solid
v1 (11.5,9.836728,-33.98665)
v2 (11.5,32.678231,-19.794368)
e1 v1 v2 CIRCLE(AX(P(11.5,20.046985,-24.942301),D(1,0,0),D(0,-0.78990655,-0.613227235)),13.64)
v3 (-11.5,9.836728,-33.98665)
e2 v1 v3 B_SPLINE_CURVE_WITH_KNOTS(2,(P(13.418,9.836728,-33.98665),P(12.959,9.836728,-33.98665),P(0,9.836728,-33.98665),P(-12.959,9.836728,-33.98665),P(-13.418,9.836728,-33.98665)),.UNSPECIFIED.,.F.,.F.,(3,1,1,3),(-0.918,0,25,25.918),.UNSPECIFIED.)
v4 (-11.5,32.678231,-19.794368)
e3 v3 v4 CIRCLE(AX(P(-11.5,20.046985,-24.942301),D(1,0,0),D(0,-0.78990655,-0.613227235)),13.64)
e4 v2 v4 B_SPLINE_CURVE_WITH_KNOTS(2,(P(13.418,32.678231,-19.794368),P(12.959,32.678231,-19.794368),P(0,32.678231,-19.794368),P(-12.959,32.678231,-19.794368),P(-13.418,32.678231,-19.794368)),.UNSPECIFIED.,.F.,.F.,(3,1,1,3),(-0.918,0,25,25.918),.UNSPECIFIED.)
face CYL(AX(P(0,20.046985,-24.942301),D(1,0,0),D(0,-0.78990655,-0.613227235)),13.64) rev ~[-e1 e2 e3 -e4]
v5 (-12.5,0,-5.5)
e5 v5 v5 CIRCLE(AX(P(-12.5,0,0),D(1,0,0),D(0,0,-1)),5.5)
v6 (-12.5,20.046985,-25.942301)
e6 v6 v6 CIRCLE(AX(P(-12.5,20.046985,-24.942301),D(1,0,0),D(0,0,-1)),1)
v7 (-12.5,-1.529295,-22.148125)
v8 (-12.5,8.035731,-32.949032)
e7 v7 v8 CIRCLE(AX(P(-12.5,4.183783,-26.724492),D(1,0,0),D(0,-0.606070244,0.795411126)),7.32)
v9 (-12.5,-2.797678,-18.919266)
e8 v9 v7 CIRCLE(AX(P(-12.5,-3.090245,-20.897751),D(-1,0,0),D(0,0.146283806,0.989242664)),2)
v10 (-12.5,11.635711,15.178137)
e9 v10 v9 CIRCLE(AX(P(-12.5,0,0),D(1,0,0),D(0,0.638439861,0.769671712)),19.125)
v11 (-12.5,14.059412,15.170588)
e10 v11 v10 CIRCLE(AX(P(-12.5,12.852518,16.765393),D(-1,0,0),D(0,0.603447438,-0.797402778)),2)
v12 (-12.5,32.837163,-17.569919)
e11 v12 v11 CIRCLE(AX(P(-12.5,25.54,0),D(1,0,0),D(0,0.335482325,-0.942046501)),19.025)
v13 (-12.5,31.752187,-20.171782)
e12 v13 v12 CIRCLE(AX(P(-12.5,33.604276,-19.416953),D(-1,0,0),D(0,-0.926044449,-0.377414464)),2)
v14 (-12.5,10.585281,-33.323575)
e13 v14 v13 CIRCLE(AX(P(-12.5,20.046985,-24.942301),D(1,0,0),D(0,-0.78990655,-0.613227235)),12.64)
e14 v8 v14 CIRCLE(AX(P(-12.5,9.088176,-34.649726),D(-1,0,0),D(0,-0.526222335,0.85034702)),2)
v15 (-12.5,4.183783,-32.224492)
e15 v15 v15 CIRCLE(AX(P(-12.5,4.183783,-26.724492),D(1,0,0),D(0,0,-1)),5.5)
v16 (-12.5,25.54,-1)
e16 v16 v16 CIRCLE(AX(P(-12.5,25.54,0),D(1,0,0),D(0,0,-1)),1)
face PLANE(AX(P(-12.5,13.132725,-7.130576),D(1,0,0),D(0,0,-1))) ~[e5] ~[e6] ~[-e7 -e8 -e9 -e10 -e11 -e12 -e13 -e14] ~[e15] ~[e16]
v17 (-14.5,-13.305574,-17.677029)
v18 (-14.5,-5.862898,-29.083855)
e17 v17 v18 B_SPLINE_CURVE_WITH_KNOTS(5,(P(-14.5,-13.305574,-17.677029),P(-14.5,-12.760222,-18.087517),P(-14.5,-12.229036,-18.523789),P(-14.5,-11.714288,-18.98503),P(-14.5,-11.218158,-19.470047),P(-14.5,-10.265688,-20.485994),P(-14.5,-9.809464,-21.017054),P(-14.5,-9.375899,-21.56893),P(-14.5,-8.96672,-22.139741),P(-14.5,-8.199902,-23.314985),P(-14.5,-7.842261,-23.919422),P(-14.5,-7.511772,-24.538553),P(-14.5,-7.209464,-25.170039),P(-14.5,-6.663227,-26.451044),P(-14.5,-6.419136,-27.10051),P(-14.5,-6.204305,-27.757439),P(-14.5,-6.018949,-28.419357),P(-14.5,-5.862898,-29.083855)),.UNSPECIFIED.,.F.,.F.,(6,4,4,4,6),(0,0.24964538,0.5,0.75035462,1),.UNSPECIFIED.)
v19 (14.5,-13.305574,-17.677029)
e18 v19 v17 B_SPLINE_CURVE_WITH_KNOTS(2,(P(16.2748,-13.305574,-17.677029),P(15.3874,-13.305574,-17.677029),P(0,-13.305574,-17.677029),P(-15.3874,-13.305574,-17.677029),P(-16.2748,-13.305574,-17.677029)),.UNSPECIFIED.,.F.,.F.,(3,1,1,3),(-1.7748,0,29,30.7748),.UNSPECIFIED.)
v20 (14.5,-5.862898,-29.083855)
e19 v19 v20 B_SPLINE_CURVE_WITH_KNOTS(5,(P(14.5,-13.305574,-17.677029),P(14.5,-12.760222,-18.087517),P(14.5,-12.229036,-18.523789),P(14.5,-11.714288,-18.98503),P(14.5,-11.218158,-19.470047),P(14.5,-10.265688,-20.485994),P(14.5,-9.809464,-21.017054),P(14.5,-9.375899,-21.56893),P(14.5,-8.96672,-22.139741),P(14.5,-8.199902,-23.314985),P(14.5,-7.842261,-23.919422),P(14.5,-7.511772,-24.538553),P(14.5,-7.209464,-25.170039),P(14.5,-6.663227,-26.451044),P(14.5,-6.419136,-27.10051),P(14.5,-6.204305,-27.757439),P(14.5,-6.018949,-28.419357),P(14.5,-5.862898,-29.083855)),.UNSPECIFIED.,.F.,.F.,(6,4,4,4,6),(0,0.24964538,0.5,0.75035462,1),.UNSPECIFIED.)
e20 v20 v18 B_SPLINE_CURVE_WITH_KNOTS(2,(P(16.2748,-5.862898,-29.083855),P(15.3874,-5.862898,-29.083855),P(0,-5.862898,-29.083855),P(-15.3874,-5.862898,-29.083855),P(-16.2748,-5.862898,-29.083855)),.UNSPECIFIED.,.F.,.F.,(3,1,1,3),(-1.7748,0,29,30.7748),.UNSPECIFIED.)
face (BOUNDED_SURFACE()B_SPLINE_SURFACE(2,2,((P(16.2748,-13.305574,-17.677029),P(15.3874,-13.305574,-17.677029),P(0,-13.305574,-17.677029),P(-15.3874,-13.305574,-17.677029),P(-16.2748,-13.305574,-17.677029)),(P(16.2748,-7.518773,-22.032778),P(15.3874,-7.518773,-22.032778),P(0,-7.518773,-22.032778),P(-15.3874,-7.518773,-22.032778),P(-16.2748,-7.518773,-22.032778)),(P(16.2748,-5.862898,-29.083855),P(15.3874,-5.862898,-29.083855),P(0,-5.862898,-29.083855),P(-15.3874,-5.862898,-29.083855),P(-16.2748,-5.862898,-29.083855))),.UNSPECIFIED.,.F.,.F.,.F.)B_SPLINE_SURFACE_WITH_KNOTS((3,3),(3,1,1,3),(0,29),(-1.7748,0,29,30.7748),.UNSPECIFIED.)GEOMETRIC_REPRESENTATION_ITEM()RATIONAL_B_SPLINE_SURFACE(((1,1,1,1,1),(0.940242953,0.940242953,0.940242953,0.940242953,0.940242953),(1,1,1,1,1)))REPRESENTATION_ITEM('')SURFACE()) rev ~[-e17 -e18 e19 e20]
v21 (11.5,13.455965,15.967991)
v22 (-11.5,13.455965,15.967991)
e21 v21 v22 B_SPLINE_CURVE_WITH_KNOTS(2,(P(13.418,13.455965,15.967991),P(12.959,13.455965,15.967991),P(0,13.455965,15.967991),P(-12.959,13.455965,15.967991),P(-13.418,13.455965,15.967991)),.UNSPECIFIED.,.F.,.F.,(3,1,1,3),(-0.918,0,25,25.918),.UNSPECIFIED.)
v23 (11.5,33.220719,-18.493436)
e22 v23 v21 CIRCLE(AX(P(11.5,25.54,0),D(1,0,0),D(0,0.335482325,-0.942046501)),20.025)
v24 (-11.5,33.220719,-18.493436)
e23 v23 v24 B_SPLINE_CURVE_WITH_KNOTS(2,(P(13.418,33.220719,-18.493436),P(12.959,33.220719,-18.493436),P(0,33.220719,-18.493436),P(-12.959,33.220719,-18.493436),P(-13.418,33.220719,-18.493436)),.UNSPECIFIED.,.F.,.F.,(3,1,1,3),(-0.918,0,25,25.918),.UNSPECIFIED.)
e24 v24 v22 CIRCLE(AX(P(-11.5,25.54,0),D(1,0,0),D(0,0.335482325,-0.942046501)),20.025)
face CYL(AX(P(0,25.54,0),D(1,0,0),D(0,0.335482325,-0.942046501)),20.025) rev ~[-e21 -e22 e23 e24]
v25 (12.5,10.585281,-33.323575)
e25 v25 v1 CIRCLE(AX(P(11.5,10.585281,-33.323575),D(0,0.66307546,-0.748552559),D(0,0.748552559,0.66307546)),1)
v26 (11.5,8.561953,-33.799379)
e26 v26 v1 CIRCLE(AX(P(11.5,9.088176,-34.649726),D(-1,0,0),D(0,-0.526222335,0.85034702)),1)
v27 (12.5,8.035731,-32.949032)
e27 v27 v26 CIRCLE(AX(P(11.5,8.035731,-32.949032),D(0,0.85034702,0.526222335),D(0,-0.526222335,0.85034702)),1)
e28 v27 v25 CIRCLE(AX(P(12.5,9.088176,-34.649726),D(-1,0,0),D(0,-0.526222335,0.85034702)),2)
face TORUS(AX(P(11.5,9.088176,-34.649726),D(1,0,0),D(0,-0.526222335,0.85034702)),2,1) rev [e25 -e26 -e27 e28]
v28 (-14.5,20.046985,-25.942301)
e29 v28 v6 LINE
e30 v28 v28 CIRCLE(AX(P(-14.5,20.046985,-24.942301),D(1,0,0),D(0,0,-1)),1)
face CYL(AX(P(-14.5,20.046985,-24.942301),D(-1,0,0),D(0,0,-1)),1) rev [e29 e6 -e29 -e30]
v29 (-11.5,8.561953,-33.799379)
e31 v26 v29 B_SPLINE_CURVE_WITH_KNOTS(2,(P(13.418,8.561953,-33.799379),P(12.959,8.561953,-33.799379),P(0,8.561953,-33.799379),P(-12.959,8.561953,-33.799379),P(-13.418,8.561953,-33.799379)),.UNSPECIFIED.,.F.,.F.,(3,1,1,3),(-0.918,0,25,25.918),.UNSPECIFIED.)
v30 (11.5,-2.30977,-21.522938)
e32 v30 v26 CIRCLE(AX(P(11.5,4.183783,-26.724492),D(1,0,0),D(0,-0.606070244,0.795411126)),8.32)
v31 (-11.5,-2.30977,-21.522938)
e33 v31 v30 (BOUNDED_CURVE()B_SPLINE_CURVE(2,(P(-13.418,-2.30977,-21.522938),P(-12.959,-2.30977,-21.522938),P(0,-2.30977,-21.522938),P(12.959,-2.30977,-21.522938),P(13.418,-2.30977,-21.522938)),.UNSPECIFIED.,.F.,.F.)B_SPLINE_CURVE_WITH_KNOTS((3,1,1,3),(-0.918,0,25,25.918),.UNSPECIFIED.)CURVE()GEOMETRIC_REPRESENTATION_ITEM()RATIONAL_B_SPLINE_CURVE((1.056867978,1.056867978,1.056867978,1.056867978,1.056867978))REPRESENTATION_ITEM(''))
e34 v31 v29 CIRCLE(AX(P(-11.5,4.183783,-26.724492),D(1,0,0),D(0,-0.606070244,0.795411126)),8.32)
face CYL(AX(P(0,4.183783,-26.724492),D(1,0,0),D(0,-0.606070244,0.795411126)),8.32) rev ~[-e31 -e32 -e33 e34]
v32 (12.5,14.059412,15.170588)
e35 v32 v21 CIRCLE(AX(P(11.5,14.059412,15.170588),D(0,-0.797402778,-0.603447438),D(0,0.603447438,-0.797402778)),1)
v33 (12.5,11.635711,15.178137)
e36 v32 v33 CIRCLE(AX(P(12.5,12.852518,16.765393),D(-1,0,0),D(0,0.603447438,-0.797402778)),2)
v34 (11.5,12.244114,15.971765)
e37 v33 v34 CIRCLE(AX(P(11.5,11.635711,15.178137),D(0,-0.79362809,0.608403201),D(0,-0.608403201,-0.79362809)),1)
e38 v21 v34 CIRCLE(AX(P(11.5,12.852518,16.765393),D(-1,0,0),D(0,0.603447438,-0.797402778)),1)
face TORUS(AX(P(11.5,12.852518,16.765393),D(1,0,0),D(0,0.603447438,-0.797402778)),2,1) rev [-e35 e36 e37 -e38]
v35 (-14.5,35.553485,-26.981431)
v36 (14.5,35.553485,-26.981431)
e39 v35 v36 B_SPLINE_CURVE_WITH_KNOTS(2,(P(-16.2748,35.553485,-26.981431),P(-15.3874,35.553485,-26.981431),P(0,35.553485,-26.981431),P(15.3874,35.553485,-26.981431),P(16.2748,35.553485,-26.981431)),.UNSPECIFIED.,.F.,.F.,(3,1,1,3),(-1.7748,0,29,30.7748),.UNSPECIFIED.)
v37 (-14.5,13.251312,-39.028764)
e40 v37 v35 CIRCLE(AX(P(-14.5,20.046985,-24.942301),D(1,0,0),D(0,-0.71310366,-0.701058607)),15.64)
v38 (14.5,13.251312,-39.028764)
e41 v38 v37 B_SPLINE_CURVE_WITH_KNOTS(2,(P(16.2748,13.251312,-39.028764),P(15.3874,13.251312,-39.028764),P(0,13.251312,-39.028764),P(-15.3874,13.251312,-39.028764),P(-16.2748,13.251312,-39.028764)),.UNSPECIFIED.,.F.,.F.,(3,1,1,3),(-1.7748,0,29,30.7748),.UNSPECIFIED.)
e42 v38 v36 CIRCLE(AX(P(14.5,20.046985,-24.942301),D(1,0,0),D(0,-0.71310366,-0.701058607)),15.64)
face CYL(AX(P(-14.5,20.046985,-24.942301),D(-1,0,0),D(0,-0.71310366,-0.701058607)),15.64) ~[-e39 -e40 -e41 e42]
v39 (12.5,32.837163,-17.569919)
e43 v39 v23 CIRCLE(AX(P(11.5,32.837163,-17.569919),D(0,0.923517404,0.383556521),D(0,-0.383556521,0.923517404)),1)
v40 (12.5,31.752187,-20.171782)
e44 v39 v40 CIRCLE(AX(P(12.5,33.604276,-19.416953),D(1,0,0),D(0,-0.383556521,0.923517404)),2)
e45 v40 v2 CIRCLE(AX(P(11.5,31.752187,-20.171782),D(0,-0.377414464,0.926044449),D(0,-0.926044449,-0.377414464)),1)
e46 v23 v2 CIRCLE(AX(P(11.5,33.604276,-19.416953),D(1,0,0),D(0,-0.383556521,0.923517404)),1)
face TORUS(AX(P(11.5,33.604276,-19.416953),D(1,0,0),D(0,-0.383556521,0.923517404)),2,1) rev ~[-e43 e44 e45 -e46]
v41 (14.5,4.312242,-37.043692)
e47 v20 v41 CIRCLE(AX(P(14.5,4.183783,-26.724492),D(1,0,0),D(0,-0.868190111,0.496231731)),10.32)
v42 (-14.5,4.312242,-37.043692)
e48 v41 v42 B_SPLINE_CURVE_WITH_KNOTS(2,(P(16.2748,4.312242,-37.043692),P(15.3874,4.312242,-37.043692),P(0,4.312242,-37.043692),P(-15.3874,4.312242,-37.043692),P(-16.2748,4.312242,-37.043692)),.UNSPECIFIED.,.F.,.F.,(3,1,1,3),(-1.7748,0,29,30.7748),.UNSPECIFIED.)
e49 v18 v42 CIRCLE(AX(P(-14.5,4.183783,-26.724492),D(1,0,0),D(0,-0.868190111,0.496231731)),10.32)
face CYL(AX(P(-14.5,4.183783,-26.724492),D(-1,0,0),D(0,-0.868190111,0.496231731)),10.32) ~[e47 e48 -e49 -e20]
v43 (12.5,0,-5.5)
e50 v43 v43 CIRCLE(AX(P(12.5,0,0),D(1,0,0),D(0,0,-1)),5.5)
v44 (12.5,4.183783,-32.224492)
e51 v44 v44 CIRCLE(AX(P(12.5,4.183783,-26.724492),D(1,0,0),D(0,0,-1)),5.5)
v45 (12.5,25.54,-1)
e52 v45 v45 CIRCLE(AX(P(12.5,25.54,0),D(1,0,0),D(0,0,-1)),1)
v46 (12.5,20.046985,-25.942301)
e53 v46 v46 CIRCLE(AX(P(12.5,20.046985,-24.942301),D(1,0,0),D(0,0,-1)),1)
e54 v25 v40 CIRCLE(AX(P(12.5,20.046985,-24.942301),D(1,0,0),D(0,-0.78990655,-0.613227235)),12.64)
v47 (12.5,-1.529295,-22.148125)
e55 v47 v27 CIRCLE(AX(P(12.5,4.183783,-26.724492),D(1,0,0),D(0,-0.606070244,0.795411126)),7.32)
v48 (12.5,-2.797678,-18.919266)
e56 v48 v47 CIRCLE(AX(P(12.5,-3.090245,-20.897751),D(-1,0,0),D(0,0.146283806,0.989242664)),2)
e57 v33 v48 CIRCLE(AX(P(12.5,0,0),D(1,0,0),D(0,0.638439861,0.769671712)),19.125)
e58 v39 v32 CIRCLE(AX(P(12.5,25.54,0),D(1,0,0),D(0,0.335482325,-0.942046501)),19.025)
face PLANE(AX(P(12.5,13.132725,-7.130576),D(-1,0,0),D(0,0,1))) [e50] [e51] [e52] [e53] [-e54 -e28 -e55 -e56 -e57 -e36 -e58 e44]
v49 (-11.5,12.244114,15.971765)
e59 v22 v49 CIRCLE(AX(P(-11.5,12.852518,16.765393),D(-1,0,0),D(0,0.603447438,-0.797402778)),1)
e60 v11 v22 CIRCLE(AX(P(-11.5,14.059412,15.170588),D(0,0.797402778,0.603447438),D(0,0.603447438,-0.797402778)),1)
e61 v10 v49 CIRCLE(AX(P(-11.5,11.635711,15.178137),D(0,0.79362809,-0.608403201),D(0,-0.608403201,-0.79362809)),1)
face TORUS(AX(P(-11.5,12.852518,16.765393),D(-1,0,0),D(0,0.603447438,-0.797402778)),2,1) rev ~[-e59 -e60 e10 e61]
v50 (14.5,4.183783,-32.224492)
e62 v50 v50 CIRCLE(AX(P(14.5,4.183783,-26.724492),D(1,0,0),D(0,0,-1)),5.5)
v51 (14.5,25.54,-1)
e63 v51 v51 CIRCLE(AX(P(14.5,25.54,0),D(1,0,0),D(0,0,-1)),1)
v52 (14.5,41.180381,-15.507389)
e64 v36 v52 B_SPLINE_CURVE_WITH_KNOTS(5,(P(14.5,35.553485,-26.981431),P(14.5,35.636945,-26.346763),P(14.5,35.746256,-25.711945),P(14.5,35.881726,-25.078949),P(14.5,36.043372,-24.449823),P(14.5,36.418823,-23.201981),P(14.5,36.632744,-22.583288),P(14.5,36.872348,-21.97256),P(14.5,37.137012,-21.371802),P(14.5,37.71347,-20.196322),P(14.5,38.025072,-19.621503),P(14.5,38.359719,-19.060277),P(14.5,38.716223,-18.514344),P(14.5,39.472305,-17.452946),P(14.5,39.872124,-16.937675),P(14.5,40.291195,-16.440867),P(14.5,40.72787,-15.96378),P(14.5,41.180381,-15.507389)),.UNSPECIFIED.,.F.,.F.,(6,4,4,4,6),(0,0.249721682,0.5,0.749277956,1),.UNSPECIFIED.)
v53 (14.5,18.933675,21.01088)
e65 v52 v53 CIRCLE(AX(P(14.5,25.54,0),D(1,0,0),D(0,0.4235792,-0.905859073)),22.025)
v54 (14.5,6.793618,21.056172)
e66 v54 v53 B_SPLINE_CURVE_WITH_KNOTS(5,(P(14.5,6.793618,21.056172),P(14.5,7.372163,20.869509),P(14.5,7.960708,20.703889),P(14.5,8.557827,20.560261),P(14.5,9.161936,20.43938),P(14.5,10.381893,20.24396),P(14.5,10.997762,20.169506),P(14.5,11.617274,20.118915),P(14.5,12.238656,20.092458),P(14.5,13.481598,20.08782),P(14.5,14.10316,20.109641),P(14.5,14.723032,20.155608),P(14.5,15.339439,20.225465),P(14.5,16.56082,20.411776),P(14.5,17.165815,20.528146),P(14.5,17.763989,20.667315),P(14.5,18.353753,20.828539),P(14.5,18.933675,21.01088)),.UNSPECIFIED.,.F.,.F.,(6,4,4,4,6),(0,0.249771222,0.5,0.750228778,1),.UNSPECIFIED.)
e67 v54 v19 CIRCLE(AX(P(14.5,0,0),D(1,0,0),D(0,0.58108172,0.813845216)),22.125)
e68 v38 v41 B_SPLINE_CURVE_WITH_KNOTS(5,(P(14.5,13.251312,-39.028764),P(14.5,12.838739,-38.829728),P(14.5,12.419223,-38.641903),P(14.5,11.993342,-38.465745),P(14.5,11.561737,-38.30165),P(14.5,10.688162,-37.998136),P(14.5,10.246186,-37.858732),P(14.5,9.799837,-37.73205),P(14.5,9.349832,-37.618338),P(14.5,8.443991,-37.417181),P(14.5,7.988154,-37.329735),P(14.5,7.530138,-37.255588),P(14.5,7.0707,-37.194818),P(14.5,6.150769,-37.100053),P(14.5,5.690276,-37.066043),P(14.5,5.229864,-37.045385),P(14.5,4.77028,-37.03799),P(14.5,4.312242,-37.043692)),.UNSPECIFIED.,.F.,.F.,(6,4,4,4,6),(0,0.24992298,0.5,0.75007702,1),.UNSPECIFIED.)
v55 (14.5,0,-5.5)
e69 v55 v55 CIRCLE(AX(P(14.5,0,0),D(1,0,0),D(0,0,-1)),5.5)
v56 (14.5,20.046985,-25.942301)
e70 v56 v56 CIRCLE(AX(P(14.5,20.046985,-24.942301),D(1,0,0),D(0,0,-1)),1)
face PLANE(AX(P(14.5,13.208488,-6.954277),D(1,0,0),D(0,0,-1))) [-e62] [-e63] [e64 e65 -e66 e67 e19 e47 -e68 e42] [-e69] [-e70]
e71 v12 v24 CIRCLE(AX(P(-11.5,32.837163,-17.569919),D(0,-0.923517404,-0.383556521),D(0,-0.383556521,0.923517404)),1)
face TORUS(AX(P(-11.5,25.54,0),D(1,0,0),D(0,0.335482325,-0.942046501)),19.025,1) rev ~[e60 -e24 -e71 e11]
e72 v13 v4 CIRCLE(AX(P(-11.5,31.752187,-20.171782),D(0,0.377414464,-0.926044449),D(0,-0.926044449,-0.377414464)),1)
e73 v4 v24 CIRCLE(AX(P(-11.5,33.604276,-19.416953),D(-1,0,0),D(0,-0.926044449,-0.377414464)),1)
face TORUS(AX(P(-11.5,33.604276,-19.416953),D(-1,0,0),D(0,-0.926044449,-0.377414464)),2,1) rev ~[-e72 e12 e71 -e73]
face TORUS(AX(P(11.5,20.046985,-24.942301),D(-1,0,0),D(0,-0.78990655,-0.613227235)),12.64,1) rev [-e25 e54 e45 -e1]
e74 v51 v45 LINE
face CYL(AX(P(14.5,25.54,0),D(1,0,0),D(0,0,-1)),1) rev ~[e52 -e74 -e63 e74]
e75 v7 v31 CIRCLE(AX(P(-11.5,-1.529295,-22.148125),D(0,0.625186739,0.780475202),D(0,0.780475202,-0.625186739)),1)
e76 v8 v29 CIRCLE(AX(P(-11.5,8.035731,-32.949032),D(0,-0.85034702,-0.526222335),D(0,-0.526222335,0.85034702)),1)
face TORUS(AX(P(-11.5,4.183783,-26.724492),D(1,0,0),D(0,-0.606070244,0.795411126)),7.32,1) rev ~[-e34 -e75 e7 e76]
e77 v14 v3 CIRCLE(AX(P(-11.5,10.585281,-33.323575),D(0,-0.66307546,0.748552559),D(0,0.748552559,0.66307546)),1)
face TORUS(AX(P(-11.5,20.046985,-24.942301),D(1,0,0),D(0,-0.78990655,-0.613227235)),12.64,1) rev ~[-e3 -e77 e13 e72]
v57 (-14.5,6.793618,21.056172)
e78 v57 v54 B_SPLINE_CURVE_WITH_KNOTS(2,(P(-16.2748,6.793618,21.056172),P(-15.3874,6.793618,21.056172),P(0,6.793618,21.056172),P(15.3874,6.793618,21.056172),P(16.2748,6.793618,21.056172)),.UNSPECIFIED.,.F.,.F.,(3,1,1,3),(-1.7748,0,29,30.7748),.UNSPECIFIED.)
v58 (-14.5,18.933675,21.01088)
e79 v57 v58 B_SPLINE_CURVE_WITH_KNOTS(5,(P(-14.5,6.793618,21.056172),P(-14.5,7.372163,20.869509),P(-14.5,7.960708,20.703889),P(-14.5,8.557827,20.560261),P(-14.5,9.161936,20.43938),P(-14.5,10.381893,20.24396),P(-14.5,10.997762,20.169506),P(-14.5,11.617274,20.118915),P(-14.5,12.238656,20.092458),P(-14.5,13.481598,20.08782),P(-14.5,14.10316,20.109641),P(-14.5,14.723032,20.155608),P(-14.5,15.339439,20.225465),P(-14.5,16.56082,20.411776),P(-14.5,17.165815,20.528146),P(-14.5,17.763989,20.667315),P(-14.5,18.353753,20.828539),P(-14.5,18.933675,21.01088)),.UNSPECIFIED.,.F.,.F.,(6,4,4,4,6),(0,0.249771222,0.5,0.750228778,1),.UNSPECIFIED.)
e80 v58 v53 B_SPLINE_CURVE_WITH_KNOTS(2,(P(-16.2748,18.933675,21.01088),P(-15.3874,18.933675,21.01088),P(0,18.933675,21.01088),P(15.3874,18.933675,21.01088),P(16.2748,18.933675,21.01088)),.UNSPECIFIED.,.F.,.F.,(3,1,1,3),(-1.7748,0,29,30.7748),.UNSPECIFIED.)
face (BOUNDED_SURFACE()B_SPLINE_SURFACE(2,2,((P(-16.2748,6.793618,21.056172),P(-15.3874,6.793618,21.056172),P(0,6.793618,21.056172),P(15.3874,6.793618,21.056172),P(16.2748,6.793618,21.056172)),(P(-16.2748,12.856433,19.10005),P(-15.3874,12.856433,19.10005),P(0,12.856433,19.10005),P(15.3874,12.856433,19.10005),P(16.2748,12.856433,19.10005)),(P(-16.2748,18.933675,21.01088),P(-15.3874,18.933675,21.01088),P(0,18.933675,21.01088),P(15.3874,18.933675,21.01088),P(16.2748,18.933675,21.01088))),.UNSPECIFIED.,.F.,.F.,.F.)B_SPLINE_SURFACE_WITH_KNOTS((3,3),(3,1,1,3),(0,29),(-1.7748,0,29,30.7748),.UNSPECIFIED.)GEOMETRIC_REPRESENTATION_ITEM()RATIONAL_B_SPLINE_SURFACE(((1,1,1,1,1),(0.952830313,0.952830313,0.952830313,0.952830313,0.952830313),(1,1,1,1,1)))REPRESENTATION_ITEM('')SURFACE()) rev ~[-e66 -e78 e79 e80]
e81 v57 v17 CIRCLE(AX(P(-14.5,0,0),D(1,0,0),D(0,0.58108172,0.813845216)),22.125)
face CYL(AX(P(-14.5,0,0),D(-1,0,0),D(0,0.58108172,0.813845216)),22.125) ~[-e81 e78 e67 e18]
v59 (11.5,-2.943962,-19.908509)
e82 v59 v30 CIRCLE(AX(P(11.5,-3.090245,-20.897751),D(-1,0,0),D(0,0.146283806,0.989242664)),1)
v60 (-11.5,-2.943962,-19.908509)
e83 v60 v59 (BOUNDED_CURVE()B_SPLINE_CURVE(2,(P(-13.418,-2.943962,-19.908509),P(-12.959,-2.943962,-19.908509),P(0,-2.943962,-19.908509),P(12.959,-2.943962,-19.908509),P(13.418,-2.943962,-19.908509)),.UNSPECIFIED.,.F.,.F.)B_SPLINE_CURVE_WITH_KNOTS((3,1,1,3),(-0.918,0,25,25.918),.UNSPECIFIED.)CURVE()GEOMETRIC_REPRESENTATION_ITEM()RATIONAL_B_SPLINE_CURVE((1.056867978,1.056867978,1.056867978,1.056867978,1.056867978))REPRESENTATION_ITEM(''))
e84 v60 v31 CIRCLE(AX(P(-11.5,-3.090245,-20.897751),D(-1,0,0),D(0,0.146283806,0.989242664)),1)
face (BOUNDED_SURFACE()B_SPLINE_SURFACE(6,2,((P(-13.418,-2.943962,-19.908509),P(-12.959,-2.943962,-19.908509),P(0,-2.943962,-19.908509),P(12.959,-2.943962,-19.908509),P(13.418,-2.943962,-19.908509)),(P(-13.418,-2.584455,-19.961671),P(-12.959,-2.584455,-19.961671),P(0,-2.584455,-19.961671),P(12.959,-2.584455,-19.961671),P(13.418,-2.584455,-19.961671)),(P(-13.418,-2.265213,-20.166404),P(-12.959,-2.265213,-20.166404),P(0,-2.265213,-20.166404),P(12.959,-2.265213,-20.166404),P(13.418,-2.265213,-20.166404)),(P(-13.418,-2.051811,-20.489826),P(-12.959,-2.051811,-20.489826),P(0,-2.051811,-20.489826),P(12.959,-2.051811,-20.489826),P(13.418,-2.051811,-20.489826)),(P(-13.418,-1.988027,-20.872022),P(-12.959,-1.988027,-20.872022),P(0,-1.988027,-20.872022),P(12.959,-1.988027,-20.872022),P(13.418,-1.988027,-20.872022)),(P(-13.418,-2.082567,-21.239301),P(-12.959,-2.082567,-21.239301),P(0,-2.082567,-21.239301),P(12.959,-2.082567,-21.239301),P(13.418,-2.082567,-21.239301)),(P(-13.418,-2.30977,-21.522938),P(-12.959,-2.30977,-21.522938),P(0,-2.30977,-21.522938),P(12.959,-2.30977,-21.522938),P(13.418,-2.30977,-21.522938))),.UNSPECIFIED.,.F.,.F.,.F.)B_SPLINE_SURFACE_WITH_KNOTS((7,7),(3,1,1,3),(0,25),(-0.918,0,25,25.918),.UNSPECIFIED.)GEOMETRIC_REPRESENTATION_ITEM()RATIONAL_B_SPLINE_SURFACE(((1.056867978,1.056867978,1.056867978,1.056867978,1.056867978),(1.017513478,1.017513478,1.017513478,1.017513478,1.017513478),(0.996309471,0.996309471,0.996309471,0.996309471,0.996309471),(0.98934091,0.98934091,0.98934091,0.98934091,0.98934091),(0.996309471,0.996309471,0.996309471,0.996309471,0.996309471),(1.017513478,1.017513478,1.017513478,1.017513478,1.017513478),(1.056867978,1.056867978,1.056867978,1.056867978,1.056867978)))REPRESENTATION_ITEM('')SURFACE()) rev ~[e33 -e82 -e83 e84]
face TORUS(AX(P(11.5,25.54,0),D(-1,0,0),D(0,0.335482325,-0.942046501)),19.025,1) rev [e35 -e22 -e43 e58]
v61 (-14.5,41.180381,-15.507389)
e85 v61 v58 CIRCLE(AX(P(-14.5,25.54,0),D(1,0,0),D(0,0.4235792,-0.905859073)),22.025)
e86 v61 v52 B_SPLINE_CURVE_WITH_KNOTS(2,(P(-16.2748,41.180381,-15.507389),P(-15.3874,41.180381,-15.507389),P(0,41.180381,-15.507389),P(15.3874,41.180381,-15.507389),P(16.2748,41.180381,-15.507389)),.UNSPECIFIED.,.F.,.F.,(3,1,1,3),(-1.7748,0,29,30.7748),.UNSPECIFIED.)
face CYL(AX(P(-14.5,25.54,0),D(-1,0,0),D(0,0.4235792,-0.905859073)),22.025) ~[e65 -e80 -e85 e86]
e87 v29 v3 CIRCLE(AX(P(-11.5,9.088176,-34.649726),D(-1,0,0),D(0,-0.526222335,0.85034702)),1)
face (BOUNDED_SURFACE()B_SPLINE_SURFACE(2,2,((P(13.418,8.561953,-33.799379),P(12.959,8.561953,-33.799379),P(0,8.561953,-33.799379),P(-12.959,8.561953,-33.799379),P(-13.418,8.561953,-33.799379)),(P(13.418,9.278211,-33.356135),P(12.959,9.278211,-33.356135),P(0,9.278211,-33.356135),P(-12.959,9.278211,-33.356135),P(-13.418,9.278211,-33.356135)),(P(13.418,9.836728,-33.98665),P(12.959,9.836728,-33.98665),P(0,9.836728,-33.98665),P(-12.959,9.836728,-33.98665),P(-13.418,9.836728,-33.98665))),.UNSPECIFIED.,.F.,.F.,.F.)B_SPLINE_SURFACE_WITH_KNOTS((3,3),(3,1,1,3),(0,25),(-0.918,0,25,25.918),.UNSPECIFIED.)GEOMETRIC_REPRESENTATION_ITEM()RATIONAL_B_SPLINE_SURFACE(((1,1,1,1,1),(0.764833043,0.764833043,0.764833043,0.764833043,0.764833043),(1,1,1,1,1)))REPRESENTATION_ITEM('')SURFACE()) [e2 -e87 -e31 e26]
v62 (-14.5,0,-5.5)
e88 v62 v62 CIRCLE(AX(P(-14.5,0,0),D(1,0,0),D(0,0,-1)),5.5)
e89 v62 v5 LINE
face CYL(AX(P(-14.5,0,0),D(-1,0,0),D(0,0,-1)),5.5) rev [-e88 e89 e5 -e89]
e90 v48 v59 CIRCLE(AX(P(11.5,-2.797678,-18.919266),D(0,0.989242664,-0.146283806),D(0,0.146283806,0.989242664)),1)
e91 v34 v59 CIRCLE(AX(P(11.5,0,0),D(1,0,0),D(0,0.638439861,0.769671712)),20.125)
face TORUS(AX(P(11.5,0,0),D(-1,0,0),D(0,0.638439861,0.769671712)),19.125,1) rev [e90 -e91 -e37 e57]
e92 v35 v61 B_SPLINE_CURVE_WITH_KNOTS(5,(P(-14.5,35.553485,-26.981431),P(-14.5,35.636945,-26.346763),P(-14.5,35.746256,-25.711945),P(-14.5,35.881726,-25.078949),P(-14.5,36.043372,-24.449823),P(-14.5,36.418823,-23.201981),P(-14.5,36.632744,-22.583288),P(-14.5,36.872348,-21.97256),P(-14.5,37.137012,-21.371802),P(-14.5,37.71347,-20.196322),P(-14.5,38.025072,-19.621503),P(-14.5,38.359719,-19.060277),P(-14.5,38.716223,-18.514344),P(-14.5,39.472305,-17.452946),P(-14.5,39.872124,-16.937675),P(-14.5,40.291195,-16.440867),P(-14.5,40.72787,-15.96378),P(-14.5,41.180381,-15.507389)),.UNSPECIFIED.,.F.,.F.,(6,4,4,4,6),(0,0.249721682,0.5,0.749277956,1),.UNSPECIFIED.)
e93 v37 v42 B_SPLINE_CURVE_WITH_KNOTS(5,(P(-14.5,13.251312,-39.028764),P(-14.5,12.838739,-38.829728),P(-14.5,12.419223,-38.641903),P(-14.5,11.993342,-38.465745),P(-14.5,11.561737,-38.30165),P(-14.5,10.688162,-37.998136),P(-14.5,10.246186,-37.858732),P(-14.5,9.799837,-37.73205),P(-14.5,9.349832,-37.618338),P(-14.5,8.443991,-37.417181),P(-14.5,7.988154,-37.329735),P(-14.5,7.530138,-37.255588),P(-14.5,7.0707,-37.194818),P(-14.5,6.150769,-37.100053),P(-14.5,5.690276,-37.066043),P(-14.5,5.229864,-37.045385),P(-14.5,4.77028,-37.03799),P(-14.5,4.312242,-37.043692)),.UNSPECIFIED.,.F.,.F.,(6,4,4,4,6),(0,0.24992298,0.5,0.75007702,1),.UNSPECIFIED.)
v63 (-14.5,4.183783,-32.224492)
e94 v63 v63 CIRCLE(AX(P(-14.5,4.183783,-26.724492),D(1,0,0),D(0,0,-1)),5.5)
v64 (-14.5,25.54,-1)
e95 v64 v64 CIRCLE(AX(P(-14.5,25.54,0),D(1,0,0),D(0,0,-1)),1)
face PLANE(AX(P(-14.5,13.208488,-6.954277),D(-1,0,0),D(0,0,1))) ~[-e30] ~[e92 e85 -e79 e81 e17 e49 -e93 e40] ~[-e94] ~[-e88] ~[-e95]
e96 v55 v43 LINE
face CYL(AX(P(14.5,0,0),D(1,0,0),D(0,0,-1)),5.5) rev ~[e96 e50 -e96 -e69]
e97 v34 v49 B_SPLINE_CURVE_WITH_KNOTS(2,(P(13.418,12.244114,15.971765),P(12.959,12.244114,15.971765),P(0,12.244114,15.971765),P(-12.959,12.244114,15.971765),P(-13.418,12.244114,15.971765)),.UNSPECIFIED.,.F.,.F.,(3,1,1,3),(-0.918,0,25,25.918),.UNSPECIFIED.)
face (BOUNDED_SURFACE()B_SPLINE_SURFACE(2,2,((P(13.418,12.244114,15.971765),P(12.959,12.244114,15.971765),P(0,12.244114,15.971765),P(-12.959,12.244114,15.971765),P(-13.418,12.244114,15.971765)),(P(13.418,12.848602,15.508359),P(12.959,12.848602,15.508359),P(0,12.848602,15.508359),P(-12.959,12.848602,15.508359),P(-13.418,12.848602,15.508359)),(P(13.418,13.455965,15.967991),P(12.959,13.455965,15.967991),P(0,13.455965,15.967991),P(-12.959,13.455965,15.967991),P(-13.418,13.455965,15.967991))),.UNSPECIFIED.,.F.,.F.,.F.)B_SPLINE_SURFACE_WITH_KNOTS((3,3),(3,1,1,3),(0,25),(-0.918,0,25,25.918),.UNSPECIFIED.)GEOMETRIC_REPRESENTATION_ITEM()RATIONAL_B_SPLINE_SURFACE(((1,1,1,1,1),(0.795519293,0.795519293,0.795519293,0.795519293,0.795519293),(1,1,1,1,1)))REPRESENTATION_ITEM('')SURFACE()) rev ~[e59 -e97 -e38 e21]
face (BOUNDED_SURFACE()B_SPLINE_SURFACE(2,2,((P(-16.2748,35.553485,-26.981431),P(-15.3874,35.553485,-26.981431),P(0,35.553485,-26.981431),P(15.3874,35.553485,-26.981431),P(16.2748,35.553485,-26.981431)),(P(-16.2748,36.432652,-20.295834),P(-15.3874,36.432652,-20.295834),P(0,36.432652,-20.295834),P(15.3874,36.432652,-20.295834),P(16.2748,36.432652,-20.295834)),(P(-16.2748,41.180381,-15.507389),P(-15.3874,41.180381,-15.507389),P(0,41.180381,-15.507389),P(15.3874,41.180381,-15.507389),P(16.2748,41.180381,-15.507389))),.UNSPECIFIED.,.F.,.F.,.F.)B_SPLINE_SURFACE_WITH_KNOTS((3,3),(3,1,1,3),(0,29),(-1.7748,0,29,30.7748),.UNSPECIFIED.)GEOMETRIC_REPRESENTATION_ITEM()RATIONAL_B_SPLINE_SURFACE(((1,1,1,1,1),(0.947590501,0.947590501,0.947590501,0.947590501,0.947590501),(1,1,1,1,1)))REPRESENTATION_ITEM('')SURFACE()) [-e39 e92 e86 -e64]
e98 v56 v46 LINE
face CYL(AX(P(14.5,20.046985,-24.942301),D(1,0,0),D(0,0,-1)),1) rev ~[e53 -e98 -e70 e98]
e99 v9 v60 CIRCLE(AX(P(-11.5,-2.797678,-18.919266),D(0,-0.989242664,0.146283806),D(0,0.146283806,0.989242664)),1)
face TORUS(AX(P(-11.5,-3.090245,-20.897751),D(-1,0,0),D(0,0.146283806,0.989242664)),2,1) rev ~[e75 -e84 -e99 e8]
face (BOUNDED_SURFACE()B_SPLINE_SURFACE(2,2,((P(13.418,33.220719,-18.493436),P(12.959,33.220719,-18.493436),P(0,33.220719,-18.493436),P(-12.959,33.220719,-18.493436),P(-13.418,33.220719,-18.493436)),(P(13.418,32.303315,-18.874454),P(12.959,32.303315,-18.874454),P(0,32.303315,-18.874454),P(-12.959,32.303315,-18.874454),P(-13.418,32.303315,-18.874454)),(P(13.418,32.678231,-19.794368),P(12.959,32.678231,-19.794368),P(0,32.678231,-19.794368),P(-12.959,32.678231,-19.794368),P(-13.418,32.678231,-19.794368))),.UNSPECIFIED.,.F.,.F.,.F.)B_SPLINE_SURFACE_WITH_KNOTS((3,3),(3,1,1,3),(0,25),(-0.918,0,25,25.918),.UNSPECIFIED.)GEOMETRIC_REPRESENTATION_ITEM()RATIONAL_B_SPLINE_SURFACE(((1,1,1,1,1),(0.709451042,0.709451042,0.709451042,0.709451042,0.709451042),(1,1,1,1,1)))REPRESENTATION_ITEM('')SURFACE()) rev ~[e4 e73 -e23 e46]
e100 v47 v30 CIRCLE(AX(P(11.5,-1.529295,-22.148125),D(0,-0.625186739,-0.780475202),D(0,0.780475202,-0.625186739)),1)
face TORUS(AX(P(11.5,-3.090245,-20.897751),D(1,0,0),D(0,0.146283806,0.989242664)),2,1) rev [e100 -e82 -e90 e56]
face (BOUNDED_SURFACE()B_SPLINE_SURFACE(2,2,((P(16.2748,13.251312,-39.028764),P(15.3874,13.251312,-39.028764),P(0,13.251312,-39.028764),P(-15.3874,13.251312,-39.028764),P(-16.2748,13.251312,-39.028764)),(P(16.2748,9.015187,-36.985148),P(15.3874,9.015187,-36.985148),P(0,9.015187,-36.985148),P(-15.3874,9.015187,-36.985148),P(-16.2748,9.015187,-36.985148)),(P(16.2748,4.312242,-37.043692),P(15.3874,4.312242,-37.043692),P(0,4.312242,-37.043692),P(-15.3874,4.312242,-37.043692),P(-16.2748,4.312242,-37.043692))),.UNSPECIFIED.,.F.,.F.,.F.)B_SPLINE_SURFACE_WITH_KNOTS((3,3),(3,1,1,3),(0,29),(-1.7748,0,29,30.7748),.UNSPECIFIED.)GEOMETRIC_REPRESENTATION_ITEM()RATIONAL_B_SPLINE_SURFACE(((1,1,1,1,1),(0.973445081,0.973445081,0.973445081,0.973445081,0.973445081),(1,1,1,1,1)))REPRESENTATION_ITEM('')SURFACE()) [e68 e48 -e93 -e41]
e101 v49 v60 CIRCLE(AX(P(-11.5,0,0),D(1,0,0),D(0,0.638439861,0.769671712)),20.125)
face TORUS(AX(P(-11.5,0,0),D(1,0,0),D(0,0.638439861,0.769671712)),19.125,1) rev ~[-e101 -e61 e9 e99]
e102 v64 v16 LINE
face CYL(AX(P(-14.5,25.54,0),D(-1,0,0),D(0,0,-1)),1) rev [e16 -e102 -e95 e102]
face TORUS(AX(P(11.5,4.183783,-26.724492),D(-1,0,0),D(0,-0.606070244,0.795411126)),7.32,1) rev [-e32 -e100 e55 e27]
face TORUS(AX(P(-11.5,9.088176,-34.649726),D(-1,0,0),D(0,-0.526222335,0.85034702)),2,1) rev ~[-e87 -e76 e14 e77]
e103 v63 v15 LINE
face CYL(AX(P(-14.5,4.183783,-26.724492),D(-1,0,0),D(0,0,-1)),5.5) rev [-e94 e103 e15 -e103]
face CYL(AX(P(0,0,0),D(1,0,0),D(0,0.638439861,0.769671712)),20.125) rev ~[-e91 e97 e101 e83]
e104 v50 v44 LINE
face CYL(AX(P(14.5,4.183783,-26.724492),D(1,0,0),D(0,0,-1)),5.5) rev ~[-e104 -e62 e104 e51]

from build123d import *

# Parameters (mm, degrees)
EXTRUDE_1_DEPTH   = 12.5
EXTRUDE_START     = 2
SKETCH_2_R        = 5.5
SKETCH_2_R_2      = 1
EXTRUDE_1_2_DEPTH = 2
FILLET_1_R        = 20
FILLET_2_R        = 1


with BuildPart() as part:
    # Эскиз1 → Extrude 1 (new, symmetric)
    with BuildSketch(Plane(origin=(0, 0, 0), x_dir=(0, 0, -1), z_dir=(1, 0, 0))):
        with BuildLine():
            ThreePointArc((21.603380218, -4.775938456), (33.854747747, -3.276903371), (35.906857777, 8.894043878))
            ThreePointArc((35.906857777, 8.894043878), (38.268983914, 28.232895393), (19.951546092, 34.869331891))
            ThreePointArc((19.951546092, 34.869331891), (-11.049339337, 44.592892831), (-18.006325398, 12.856433046))
            ThreePointArc((-18.006325398, 12.856433046), (-8.99776817, -20.21276312), (21.603380218, -4.775938456))
        make_face()
        with BuildLine():
            ThreePointArc((20.106671115, -0.85872094), (31.790213298, -2.416282003), (33.306720651, 9.272659773))
            ThreePointArc((33.306720651, 9.272659773), (36.491716149, 27.303748421), (18.864481175, 32.258033567))
            ThreePointArc((18.864481175, 32.258033567), (-9.850324329, 42.974785218), (-15.489643207, 12.848602193))
            ThreePointArc((-15.489643207, 12.848602193), (-7.232006191, -18.780673882), (20.106671115, -0.85872094))
        make_face(mode=Mode.SUBTRACT)
    extrude(amount=EXTRUDE_1_DEPTH, both=True)

    # Эскиз2 → Extrude 1 2 (add)
    # profile 1 of 2: a face of its own
    with BuildSketch(Plane(origin=(12.5, 0, 0), x_dir=(0, 0, -1), z_dir=(1, 0, 0)).offset(EXTRUDE_START)):
        with BuildLine():
            ThreePointArc((35.906857777, 8.894043878), (38.268983914, 28.232895393), (19.951546092, 34.869331891))
            ThreePointArc((19.951546092, 34.869331891), (-11.049339337, 44.592892831), (-18.006325398, 12.856433046))
            ThreePointArc((-18.006325398, 12.856433046), (-8.99776817, -20.21276312), (21.603380218, -4.775938456))
            ThreePointArc((21.603380218, -4.775938456), (33.854747747, -3.276903371), (35.906857777, 8.894043878))
        make_face()
        with BuildLine():
            ThreePointArc((33.306720651, 9.272659773), (31.790213298, -2.416282003), (20.106671115, -0.85872094))
            ThreePointArc((20.106671115, -0.85872094), (-7.232006191, -18.780673882), (-15.489643207, 12.848602193))
            ThreePointArc((-15.489643207, 12.848602193), (-9.850324329, 42.974785218), (18.864481175, 32.258033567))
            ThreePointArc((18.864481175, 32.258033567), (36.491716149, 27.303748421), (33.306720651, 9.272659773))
        make_face(mode=Mode.SUBTRACT)
    # profile 2 of 2: a face of its own
    with BuildSketch(Plane(origin=(12.5, 0, 0), x_dir=(0, 0, -1), z_dir=(1, 0, 0)).offset(EXTRUDE_START)):
        with BuildLine():
            ThreePointArc((20.106671115, -0.85872094), (-7.232006191, -18.780673882), (-15.489643207, 12.848602193))
            ThreePointArc((-15.489643207, 12.848602193), (-9.850324329, 42.974785218), (18.864481175, 32.258033567))
            ThreePointArc((18.864481175, 32.258033567), (36.491716149, 27.303748421), (33.306720651, 9.272659773))
            ThreePointArc((33.306720651, 9.272659773), (31.790213298, -2.416282003), (20.106671115, -0.85872094))
        make_face()
        Circle(SKETCH_2_R, mode=Mode.SUBTRACT)
        with Locations((0, 25.54)):
            Circle(SKETCH_2_R_2, mode=Mode.SUBTRACT)
        with Locations((24.942301168, 20.046985121)):
            Circle(SKETCH_2_R_2, mode=Mode.SUBTRACT)
        with Locations((26.724491683, 4.183783491)):
            Circle(SKETCH_2_R, mode=Mode.SUBTRACT)
    extrude_1_2 = extrude(amount=-EXTRUDE_1_2_DEPTH)

    # Зеркальное отражение1: Extrude 1 2 across plane
    add(extrude_1_2.mirror(Plane(origin=(0, 0, 0), x_dir=(0, 0, 1), z_dir=(1, 0, 0))))

    # Скругление1
    fillet_1_edges = [part.edges().sort_by_distance(p)[0] for p in [
        (0, 34.869331891, -19.951546092),
        (0, 8.894043878, -35.906857777),
        (0, -4.775938456, -21.603380218),
        (0, 12.856433046, 18.006325398),
    ]]
    fillet(fillet_1_edges, radius=FILLET_1_R)

    # Скругление2
    fillet_2_edges = [part.edges().sort_by_distance(p)[0] for p in [
        (-12.5, 42.974785218, 9.850324329),
        (0, 32.258033567, -18.864481175),
        (-12.5, -18.780673882, 7.232006191),
        (0, 12.848602193, 15.489643207),
        (-12.5, -2.416282003, -31.790213298),
        (0, -0.85872094, -20.106671115),
        (-12.5, 27.303748421, -36.491716149),
        (0, 9.272659773, -33.306720651),
        (12.5, 42.974785218, 9.850324329),
        (12.5, -18.780673882, 7.232006191),
        (12.5, -2.416282003, -31.790213298),
        (12.5, 27.303748421, -36.491716149),
    ]]
    fillet(fillet_2_edges, radius=FILLET_2_R)


solid = part.part
